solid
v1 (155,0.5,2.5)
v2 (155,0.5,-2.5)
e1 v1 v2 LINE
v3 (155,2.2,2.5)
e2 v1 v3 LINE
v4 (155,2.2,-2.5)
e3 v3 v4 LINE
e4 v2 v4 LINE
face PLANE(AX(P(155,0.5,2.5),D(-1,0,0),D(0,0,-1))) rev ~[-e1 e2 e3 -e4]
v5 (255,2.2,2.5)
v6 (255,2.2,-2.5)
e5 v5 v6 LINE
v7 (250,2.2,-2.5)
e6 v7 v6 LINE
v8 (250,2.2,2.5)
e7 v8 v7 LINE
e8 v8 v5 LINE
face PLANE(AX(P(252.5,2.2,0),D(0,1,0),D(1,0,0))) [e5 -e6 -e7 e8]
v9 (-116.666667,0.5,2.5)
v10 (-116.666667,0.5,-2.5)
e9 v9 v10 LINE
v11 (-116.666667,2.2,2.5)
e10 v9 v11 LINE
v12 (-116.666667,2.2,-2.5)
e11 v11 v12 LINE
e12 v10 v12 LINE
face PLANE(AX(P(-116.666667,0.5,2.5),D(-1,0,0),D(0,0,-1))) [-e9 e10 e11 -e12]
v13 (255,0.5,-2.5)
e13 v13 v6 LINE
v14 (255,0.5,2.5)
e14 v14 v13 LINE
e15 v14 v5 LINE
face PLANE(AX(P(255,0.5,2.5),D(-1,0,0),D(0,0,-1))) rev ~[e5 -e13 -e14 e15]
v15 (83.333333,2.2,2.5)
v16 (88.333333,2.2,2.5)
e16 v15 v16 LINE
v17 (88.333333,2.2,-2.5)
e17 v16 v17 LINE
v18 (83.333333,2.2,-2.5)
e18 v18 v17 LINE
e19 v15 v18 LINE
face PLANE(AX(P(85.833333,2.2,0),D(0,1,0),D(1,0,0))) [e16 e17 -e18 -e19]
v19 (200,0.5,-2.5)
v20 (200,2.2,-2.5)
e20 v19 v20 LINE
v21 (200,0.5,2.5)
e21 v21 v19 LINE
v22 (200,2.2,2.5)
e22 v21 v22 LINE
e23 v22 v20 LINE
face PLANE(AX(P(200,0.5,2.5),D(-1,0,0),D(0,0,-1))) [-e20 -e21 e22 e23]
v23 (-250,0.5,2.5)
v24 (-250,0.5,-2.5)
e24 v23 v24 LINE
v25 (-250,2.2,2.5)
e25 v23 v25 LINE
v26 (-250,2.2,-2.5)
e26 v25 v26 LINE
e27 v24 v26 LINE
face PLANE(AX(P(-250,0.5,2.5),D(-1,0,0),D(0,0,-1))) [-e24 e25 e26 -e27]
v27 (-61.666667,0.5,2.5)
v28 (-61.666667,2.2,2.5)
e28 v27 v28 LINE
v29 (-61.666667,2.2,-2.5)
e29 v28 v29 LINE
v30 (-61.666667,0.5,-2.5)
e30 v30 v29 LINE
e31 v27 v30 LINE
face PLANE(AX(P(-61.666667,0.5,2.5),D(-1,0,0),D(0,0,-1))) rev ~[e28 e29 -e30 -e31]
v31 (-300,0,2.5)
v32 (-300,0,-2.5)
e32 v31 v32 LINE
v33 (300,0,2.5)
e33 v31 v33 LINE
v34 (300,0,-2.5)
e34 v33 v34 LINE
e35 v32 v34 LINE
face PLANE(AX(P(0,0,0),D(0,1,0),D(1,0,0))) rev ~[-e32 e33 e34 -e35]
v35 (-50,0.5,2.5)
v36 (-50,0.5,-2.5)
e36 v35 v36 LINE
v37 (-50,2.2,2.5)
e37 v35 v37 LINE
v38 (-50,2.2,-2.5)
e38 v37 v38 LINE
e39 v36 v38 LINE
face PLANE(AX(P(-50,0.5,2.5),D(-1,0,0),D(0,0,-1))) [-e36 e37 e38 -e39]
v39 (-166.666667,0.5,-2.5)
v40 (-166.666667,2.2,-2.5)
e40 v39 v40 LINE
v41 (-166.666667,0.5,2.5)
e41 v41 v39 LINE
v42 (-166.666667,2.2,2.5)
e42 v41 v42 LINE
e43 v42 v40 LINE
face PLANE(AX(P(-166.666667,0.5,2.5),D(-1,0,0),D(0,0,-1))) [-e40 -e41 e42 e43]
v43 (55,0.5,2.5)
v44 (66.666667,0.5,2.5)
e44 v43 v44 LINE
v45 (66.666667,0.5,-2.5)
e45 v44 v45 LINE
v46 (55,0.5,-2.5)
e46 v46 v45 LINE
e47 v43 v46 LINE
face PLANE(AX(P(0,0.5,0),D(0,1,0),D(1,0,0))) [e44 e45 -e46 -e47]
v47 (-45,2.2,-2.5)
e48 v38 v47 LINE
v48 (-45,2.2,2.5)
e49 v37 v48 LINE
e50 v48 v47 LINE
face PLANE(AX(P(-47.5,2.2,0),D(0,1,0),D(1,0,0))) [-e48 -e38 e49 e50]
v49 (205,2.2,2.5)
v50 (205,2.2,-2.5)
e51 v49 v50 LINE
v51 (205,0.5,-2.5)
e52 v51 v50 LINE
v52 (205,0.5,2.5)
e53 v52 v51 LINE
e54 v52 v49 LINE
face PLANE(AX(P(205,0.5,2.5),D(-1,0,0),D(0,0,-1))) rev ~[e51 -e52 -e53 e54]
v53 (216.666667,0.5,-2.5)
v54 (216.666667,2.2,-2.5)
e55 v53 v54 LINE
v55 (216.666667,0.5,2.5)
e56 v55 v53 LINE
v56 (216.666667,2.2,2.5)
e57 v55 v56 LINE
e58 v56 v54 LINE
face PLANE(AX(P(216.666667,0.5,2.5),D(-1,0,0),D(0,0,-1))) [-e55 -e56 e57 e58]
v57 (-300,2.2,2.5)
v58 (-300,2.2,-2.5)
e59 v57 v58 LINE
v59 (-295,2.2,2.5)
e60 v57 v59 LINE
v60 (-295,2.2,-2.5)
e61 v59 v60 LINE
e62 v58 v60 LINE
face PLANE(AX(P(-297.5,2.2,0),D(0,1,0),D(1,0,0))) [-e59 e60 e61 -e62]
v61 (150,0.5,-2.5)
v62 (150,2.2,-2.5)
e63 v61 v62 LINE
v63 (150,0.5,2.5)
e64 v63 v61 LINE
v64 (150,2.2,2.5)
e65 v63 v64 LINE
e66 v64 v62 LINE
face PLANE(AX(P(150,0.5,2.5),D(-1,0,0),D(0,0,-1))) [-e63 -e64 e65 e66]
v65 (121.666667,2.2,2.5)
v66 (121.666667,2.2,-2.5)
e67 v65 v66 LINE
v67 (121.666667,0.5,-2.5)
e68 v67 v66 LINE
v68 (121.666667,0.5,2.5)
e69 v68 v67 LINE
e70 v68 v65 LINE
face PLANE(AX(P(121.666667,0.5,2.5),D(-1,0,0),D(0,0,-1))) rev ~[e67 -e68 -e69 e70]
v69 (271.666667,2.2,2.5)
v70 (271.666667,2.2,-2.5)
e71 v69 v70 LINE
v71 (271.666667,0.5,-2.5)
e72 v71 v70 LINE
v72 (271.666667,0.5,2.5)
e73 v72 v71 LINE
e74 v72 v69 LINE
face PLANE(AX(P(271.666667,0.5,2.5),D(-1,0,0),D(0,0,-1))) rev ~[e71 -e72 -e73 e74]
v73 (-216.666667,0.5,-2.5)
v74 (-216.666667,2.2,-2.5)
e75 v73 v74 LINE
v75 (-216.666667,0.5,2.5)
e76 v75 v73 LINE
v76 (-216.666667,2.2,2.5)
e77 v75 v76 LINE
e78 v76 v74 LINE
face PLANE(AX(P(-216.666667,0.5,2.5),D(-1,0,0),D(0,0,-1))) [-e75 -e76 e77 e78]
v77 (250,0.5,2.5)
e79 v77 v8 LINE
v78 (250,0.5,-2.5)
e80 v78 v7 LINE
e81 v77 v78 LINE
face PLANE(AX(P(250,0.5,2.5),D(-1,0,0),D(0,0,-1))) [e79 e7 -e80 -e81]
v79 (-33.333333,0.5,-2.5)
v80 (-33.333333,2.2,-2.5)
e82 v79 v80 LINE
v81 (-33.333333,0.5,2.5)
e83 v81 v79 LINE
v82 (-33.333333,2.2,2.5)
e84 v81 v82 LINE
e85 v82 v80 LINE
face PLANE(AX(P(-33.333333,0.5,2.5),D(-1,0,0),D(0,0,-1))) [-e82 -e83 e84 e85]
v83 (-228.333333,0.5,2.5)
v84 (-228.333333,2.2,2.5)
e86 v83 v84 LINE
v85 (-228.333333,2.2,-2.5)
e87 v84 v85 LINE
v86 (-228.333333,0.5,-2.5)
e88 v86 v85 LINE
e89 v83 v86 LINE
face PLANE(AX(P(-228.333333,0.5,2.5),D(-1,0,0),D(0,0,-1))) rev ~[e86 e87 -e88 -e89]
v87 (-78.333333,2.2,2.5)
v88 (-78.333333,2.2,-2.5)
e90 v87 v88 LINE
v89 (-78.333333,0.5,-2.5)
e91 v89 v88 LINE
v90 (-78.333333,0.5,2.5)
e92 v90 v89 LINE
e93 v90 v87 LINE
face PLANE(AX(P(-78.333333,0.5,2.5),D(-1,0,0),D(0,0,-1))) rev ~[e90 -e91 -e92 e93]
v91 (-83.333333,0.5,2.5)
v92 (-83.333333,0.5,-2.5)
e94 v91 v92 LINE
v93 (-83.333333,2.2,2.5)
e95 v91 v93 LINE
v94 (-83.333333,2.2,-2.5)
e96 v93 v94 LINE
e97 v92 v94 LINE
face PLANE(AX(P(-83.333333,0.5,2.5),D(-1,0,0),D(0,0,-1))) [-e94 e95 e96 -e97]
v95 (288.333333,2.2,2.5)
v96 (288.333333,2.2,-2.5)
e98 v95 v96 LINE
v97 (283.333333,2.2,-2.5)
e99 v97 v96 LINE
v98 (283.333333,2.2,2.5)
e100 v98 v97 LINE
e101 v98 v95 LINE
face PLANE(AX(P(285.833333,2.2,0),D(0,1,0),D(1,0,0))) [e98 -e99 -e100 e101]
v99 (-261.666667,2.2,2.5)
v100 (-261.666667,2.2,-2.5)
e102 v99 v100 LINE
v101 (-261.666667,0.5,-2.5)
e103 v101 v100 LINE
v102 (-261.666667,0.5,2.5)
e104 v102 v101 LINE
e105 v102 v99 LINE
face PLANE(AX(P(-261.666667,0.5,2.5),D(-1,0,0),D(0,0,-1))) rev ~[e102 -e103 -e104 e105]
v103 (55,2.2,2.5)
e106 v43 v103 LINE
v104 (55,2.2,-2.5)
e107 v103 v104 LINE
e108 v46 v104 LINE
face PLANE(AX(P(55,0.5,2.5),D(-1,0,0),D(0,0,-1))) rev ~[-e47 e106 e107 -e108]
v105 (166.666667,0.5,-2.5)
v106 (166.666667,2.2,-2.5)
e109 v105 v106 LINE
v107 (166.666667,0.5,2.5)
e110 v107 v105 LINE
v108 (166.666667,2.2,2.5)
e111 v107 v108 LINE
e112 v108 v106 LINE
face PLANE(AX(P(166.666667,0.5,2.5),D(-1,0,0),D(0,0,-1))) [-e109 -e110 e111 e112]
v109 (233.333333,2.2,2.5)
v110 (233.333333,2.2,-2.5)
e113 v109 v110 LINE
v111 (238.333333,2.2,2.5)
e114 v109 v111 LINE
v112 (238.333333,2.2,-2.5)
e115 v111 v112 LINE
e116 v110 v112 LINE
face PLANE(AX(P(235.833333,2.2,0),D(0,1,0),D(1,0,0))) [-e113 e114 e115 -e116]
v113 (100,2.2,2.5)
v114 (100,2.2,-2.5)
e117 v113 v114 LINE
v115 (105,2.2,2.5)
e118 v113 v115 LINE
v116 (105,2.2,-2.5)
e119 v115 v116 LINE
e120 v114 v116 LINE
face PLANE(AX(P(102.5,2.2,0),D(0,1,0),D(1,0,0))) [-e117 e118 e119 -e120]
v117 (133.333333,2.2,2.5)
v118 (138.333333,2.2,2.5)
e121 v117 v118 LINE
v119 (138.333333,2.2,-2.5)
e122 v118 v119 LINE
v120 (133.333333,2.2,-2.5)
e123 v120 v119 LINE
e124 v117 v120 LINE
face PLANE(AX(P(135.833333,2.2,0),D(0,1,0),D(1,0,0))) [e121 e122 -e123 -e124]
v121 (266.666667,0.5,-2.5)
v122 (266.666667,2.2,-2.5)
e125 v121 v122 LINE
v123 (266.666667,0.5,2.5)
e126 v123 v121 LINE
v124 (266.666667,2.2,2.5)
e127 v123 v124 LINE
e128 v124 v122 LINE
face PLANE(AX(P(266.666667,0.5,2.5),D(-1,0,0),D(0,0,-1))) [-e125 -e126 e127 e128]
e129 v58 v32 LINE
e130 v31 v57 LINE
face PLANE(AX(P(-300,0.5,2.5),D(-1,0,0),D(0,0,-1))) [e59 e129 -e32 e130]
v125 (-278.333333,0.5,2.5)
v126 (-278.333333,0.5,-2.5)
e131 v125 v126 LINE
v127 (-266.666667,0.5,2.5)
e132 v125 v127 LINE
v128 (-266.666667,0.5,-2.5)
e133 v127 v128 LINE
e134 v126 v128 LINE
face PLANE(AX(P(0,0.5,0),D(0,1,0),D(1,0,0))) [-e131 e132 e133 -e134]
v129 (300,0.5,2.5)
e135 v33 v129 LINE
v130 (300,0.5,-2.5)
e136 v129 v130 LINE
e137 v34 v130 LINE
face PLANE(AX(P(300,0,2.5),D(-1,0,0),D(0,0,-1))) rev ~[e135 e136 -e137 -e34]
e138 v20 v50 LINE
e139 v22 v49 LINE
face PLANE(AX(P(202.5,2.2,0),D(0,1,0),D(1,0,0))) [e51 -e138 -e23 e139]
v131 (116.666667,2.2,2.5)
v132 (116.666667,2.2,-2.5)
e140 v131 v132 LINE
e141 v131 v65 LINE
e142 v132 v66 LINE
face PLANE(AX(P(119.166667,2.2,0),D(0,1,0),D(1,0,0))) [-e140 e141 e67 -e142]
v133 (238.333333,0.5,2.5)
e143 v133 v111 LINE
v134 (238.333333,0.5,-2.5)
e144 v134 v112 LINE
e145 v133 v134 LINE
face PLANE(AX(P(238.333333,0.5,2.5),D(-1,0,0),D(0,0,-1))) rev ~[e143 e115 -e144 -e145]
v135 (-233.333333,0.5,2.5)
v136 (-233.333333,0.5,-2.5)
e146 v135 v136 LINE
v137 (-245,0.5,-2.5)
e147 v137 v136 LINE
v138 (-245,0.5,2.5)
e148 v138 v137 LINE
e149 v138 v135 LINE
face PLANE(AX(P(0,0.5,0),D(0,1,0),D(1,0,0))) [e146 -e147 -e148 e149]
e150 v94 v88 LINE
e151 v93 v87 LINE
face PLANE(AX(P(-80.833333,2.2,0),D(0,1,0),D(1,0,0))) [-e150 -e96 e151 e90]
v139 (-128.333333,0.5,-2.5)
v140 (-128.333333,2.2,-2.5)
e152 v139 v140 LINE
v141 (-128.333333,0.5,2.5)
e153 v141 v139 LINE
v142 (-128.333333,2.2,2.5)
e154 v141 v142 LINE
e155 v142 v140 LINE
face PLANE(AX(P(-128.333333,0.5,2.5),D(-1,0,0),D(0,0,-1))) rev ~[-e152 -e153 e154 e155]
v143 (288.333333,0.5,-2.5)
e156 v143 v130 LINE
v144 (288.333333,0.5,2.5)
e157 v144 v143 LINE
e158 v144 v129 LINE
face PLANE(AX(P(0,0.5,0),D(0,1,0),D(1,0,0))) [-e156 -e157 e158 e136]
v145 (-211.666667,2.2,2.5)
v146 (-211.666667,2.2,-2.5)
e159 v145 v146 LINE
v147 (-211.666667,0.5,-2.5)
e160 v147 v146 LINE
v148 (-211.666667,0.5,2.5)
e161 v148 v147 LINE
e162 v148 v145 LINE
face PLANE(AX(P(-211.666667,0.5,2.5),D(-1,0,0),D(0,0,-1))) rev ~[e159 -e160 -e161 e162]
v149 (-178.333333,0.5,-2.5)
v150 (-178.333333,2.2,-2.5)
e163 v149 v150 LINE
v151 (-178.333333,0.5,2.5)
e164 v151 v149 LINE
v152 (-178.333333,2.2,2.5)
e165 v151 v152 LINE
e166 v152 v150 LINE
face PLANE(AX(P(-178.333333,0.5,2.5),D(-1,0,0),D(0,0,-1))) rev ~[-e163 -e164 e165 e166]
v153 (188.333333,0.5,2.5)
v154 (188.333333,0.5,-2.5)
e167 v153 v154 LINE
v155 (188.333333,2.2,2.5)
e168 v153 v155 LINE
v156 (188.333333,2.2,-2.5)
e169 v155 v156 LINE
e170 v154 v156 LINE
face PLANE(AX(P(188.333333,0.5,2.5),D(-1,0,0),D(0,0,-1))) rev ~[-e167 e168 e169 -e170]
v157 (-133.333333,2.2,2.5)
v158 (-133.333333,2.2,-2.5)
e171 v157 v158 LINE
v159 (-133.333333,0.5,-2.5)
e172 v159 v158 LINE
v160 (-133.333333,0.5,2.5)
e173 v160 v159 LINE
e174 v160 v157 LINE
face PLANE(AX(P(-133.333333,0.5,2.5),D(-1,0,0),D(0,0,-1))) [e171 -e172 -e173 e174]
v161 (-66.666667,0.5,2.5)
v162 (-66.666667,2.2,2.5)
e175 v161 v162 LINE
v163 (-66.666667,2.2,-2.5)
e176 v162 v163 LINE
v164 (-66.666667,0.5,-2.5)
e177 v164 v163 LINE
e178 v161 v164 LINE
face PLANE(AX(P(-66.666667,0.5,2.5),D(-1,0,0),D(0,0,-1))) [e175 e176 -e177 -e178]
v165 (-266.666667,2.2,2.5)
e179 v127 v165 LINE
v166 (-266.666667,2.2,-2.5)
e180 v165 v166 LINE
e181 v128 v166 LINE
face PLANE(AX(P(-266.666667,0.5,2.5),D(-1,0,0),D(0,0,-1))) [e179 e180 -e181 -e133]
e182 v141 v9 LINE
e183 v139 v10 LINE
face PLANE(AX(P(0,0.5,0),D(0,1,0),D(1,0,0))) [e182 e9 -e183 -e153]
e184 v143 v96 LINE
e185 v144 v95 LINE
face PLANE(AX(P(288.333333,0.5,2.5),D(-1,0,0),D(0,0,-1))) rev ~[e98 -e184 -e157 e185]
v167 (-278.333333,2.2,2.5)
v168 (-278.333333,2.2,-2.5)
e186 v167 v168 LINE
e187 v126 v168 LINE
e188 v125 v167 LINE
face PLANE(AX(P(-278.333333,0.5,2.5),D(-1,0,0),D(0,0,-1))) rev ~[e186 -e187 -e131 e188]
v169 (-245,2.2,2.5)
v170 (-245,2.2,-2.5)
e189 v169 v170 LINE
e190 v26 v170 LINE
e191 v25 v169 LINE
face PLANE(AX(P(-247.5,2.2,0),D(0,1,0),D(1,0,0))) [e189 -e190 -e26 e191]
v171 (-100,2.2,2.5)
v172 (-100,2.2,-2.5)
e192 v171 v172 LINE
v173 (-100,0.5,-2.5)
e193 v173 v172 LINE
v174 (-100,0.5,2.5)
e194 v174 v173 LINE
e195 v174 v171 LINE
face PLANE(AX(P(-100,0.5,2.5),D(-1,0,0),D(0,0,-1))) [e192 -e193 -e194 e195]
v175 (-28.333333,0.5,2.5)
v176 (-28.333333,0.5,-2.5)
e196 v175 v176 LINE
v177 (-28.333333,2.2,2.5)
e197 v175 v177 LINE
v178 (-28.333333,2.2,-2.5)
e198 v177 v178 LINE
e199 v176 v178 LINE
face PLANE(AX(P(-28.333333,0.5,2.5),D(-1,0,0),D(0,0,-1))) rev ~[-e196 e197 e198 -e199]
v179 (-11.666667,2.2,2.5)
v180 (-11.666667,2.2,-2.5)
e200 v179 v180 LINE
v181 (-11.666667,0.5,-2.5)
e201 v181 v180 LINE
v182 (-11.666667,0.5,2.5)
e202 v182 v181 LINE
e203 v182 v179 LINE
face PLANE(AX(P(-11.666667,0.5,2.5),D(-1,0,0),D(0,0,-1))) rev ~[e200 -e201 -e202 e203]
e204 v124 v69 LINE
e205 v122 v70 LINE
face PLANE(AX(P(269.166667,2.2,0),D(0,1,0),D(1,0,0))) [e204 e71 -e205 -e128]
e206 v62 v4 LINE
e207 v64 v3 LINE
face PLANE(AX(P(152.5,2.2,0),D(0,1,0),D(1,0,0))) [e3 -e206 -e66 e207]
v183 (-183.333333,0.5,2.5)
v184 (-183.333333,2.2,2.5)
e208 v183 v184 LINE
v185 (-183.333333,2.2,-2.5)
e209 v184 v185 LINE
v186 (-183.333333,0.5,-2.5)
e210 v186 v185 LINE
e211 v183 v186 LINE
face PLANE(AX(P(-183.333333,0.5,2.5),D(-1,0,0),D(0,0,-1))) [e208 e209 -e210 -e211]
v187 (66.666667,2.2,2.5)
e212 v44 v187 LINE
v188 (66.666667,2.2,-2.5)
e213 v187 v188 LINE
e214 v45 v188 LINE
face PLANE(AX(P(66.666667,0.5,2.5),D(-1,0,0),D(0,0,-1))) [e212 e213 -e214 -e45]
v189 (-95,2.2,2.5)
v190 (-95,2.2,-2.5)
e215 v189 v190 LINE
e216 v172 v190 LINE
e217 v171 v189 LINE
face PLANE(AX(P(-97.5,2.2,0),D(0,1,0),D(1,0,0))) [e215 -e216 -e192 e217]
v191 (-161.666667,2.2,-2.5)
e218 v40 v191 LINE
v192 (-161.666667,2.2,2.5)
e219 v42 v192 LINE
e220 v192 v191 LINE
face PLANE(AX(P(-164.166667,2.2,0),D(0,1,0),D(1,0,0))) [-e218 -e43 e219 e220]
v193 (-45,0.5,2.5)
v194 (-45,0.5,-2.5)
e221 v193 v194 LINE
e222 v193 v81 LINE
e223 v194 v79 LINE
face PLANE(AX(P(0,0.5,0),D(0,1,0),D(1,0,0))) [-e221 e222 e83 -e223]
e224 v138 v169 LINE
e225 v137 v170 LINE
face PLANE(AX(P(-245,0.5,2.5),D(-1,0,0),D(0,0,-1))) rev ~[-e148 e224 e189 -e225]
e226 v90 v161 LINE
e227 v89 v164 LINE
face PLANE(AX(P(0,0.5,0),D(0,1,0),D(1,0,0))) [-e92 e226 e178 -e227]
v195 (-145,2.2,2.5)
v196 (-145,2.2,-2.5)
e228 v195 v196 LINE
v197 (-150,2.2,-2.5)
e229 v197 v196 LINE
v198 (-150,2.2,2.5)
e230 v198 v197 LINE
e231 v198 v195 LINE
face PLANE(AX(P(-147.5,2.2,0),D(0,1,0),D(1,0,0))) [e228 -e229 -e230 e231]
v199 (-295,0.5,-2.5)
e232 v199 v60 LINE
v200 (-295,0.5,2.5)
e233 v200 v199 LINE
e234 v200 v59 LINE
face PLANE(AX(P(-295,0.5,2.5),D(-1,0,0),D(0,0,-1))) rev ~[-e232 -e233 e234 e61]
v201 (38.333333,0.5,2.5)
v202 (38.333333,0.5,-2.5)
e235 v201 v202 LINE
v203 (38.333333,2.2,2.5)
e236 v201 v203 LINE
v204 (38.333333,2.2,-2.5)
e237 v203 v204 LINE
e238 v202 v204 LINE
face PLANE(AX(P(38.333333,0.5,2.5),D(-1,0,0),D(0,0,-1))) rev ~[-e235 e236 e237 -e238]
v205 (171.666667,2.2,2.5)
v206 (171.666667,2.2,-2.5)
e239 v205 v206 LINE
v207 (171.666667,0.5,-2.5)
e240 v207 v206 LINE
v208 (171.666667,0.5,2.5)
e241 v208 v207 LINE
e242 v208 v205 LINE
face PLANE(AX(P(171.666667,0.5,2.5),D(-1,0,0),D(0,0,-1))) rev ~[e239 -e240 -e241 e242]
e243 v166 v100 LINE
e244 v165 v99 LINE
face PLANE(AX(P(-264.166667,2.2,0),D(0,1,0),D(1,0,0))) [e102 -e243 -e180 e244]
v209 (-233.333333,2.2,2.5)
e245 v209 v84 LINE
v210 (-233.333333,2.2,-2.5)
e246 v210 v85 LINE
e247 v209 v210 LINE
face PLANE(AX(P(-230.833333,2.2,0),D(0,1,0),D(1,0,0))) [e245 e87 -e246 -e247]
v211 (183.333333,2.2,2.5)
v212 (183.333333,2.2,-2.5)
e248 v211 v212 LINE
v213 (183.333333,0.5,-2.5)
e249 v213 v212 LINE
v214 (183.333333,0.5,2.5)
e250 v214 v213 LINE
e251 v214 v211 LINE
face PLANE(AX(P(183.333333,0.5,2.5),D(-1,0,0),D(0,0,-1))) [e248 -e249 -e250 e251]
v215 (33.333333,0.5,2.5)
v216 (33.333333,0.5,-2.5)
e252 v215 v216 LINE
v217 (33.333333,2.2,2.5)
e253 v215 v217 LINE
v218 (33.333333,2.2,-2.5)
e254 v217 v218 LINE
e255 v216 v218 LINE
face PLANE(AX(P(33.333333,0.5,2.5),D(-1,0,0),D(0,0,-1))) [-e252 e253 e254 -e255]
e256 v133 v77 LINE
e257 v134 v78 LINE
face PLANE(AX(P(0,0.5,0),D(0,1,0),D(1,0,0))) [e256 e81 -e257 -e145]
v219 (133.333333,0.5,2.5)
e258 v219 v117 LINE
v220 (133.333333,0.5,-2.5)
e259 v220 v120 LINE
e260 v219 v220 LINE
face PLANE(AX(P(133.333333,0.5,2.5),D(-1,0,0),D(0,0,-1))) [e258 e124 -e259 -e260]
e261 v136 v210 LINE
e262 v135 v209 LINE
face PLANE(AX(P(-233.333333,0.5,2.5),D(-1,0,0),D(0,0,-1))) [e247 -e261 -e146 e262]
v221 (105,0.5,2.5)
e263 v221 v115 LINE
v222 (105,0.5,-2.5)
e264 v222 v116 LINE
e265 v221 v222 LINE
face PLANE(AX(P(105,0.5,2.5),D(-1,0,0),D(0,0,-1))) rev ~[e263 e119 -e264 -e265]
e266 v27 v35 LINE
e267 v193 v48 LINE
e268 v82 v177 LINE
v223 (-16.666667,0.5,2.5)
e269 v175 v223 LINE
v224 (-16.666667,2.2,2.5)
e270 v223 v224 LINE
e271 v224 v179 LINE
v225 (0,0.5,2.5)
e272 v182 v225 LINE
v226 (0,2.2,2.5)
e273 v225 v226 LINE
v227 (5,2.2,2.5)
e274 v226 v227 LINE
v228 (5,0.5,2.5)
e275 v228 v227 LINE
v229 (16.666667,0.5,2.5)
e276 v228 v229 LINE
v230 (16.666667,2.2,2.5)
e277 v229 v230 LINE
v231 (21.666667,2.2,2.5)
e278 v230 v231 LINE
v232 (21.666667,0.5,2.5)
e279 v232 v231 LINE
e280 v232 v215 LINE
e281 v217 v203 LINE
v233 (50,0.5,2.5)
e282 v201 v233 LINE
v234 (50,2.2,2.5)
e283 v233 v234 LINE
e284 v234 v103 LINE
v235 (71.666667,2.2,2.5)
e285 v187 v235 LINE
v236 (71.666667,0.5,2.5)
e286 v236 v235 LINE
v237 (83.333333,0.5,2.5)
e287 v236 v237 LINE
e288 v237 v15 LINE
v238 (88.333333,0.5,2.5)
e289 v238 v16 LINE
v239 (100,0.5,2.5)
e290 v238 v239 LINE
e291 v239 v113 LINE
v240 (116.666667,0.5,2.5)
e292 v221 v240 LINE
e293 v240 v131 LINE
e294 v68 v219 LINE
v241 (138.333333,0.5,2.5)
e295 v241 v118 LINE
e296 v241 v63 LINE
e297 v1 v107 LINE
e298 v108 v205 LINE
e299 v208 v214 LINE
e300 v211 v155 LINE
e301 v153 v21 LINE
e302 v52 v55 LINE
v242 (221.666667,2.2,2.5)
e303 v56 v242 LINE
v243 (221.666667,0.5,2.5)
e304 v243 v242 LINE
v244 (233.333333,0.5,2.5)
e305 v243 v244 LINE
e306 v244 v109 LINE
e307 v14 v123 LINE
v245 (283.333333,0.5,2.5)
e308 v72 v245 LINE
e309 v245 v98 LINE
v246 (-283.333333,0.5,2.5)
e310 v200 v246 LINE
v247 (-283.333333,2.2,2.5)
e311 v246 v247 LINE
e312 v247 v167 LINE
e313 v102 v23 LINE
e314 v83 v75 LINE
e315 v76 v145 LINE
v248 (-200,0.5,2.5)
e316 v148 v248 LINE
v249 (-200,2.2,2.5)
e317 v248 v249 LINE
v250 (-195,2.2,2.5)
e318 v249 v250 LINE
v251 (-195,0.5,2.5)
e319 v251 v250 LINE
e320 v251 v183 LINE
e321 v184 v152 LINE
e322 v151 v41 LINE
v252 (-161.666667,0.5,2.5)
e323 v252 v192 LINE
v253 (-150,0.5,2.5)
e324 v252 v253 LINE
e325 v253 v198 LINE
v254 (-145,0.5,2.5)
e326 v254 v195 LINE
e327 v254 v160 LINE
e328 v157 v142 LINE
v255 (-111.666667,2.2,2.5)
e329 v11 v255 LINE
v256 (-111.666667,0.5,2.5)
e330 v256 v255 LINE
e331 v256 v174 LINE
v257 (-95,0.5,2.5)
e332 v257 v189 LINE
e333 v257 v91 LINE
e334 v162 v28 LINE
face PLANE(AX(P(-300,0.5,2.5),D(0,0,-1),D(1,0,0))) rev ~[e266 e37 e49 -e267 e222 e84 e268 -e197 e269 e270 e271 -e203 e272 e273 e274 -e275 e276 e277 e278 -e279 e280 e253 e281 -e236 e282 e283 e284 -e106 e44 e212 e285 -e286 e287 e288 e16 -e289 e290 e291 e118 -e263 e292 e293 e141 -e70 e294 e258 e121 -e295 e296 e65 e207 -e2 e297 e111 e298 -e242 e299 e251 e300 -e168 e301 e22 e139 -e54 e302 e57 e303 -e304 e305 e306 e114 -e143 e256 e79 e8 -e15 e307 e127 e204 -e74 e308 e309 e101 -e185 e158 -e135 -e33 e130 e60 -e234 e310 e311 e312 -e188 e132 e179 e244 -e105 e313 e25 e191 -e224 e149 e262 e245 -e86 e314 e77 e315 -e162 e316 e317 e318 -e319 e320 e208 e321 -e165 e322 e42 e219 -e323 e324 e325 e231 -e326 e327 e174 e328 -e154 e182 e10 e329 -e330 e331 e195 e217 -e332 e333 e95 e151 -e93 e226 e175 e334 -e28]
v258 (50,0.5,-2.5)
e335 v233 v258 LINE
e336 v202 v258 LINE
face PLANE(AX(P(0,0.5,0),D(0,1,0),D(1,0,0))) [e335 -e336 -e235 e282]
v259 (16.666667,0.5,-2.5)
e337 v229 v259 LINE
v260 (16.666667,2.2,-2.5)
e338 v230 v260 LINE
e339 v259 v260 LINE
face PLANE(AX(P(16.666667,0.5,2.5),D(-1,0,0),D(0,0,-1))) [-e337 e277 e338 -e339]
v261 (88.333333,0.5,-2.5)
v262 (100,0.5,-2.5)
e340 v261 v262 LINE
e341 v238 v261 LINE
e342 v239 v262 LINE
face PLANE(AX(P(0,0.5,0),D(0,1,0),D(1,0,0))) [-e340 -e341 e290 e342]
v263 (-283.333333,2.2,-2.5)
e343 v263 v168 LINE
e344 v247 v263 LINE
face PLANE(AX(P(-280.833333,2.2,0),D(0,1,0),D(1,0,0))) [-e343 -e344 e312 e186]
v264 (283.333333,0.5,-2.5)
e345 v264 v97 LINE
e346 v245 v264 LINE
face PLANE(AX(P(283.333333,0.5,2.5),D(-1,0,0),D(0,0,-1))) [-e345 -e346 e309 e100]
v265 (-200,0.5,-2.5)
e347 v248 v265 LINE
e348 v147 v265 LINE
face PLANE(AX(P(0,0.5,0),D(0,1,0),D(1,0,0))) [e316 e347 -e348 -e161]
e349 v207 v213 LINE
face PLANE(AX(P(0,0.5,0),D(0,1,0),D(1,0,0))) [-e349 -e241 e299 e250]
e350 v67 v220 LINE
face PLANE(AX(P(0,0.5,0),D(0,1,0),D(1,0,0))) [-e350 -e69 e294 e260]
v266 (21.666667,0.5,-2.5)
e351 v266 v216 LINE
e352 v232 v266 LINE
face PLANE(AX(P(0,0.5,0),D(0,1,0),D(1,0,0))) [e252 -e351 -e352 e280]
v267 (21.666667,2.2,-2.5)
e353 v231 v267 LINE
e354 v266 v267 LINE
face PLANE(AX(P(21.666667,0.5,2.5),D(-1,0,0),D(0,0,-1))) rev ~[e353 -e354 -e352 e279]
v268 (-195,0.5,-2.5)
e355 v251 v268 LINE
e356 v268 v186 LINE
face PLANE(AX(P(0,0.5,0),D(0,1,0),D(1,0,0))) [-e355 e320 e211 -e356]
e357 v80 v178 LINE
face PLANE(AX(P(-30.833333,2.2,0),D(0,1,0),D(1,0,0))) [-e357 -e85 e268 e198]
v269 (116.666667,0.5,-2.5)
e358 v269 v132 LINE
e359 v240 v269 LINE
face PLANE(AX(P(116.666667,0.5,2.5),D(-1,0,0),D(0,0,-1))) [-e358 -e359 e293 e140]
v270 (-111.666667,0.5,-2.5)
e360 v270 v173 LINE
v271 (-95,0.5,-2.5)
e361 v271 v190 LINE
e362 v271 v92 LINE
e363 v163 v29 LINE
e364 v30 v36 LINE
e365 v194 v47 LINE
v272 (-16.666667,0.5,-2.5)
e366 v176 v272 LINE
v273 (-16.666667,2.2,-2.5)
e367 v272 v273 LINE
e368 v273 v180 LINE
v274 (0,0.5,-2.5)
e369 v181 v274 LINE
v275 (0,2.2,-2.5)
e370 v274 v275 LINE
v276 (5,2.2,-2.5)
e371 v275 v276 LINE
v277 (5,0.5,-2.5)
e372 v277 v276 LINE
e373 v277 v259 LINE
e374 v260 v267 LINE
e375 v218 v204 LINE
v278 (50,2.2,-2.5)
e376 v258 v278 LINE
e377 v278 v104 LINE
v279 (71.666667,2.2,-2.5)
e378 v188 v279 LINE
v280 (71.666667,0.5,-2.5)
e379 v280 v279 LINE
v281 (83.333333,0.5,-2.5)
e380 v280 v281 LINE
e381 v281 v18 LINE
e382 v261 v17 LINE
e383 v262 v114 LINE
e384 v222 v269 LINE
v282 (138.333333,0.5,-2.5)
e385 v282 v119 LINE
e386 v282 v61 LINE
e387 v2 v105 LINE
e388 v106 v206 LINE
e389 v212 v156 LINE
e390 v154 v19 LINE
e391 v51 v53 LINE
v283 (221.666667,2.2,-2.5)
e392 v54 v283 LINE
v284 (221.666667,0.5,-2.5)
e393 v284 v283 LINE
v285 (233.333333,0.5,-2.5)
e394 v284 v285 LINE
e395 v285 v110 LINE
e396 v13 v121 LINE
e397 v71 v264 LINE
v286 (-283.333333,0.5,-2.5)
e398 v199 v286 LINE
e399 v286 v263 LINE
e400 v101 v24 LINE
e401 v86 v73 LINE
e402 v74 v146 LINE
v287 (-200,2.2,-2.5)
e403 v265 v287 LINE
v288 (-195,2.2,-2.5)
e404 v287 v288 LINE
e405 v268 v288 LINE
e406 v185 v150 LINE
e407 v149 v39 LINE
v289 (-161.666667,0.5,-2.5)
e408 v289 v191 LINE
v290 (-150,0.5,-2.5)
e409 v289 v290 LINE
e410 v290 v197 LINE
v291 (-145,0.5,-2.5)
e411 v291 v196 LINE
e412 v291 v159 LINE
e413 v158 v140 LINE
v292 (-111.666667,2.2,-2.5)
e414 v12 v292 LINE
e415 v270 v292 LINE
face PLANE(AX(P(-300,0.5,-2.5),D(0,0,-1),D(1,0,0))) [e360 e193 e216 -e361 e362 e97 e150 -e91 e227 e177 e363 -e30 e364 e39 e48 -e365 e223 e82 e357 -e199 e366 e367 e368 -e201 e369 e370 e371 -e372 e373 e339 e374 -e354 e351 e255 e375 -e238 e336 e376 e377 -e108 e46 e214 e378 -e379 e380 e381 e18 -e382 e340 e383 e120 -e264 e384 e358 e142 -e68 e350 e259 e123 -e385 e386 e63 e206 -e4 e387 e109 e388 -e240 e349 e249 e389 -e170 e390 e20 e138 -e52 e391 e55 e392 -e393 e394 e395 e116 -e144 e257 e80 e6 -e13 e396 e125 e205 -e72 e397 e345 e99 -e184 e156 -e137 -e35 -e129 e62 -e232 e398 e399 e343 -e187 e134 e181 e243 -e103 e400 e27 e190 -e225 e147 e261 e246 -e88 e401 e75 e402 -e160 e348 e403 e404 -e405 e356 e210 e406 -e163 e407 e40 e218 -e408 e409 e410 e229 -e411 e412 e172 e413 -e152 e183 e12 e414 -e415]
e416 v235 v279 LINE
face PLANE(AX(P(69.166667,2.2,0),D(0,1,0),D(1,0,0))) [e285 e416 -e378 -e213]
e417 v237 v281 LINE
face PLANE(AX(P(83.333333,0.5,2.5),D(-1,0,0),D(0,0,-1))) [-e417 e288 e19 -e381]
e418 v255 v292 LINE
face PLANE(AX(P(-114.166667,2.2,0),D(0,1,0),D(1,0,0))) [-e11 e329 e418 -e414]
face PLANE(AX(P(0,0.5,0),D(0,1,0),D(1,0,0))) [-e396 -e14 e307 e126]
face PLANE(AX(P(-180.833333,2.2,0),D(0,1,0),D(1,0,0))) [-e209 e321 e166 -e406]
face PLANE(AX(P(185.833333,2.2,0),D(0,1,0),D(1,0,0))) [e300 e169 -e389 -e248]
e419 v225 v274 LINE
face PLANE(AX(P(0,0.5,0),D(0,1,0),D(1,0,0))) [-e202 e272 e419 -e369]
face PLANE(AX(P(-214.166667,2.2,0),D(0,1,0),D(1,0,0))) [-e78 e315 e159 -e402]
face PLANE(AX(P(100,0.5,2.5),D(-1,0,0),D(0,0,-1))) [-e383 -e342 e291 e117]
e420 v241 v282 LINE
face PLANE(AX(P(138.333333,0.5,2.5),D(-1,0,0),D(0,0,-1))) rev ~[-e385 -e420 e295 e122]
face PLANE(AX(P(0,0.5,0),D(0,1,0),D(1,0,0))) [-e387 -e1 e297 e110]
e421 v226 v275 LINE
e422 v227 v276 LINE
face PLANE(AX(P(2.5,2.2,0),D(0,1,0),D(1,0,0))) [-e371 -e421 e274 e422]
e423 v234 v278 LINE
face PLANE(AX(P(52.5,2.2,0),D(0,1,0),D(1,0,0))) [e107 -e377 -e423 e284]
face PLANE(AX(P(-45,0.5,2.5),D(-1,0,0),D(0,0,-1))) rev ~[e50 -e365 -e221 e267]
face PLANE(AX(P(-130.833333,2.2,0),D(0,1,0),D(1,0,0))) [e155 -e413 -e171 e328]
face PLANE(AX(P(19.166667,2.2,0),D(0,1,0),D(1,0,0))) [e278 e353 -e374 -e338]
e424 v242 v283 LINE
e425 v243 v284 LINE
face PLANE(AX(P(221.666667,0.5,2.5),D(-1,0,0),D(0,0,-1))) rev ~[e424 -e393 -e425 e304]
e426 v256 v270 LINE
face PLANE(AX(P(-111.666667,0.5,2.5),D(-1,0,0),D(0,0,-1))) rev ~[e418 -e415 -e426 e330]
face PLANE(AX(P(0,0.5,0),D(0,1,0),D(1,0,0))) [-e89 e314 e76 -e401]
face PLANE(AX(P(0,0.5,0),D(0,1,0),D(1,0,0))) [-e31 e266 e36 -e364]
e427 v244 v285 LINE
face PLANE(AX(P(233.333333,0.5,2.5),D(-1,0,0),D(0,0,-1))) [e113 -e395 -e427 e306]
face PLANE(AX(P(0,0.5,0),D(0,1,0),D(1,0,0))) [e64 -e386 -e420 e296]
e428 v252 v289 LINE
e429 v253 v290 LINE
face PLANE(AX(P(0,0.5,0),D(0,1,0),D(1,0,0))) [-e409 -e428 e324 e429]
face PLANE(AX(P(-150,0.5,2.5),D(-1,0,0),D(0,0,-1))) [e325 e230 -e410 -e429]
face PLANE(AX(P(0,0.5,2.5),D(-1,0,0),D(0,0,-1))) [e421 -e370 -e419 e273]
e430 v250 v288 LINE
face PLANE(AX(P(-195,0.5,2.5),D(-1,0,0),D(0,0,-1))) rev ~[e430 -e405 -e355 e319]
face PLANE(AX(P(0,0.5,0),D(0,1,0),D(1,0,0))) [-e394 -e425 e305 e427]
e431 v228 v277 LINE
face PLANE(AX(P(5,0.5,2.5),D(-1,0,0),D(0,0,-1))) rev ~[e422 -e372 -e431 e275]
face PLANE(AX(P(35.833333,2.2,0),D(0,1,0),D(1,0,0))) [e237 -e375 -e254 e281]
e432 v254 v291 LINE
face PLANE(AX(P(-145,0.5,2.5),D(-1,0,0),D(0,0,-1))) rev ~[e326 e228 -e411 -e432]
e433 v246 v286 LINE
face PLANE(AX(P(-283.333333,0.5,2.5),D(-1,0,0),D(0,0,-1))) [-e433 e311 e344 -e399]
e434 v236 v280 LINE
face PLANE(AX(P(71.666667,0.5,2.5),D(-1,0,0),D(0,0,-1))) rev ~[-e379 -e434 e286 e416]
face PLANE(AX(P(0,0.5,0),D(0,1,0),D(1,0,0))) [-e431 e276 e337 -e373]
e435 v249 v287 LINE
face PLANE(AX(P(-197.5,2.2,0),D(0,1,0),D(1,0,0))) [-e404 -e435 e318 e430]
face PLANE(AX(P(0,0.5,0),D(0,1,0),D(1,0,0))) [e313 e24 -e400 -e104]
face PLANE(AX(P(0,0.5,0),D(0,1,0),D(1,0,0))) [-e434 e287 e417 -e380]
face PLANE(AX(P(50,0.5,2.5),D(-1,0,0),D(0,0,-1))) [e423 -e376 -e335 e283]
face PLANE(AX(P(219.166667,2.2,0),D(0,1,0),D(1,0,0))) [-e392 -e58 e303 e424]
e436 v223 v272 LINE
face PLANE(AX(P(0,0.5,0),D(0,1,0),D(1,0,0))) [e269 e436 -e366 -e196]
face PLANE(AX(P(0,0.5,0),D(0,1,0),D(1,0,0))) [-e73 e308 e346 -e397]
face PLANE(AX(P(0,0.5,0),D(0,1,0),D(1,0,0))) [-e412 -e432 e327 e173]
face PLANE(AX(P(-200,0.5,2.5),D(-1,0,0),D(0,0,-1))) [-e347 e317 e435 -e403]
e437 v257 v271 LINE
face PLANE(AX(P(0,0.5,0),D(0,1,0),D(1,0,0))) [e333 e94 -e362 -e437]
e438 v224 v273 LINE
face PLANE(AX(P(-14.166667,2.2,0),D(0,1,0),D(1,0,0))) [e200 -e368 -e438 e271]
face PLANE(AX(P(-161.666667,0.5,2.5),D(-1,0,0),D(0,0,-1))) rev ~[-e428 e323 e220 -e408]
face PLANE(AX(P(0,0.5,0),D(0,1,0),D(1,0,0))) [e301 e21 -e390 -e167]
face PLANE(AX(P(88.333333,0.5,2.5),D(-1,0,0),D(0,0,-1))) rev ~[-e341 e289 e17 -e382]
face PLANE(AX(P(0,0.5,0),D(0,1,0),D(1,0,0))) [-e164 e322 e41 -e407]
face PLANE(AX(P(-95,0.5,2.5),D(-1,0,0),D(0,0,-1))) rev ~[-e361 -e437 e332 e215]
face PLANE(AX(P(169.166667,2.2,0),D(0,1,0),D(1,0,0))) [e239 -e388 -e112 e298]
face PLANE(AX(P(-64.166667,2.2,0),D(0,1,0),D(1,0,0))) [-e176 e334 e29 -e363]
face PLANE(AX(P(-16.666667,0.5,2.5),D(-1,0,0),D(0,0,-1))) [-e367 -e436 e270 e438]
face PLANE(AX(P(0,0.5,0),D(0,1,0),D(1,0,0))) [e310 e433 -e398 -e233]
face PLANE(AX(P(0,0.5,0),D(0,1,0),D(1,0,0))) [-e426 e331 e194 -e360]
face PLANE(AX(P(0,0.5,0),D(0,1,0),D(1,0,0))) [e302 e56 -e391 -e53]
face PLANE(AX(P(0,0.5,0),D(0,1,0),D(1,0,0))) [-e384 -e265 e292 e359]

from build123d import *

# Parameters (mm, degrees)
SKETCH_1_W             = 600
SKETCH_1_H             = 5
EXTRUDE_1_DEPTH        = 0.5
SKETCH_2_W             = 5
SKETCH_2_H             = 5
EXTRUDE_2_DEPTH        = 1.7
PATTERN_LINEAR_1_COUNT = 36
PATTERN_LINEAR_1_PITCH = 16.666666667


with BuildPart() as part:
    # 草图1 → 凸台-拉伸1 (new body)
    with BuildSketch(Plane(origin=(0, 0, 0), x_dir=(1, 0, 0), z_dir=(0, 1, 0))):
        Rectangle(SKETCH_1_W, SKETCH_1_H)
    extrude(amount=EXTRUDE_1_DEPTH)

    # 草图2 → 凸台-拉伸2 (add)
    with BuildSketch(Plane(origin=(0, 0.5, 0), x_dir=(1, 0, 0), z_dir=(0, 1, 0))):
        with Locations((-297.5, 0)):
            Rectangle(SKETCH_2_W, SKETCH_2_H)
    extrude_2 = extrude(amount=EXTRUDE_2_DEPTH)

    # 阵列(线性)1: 凸台-拉伸2 ×36
    with Locations(*[(i * PATTERN_LINEAR_1_PITCH, 0, 0) for i in range(1, PATTERN_LINEAR_1_COUNT)]):
        add(extrude_2)


solid = part.part
